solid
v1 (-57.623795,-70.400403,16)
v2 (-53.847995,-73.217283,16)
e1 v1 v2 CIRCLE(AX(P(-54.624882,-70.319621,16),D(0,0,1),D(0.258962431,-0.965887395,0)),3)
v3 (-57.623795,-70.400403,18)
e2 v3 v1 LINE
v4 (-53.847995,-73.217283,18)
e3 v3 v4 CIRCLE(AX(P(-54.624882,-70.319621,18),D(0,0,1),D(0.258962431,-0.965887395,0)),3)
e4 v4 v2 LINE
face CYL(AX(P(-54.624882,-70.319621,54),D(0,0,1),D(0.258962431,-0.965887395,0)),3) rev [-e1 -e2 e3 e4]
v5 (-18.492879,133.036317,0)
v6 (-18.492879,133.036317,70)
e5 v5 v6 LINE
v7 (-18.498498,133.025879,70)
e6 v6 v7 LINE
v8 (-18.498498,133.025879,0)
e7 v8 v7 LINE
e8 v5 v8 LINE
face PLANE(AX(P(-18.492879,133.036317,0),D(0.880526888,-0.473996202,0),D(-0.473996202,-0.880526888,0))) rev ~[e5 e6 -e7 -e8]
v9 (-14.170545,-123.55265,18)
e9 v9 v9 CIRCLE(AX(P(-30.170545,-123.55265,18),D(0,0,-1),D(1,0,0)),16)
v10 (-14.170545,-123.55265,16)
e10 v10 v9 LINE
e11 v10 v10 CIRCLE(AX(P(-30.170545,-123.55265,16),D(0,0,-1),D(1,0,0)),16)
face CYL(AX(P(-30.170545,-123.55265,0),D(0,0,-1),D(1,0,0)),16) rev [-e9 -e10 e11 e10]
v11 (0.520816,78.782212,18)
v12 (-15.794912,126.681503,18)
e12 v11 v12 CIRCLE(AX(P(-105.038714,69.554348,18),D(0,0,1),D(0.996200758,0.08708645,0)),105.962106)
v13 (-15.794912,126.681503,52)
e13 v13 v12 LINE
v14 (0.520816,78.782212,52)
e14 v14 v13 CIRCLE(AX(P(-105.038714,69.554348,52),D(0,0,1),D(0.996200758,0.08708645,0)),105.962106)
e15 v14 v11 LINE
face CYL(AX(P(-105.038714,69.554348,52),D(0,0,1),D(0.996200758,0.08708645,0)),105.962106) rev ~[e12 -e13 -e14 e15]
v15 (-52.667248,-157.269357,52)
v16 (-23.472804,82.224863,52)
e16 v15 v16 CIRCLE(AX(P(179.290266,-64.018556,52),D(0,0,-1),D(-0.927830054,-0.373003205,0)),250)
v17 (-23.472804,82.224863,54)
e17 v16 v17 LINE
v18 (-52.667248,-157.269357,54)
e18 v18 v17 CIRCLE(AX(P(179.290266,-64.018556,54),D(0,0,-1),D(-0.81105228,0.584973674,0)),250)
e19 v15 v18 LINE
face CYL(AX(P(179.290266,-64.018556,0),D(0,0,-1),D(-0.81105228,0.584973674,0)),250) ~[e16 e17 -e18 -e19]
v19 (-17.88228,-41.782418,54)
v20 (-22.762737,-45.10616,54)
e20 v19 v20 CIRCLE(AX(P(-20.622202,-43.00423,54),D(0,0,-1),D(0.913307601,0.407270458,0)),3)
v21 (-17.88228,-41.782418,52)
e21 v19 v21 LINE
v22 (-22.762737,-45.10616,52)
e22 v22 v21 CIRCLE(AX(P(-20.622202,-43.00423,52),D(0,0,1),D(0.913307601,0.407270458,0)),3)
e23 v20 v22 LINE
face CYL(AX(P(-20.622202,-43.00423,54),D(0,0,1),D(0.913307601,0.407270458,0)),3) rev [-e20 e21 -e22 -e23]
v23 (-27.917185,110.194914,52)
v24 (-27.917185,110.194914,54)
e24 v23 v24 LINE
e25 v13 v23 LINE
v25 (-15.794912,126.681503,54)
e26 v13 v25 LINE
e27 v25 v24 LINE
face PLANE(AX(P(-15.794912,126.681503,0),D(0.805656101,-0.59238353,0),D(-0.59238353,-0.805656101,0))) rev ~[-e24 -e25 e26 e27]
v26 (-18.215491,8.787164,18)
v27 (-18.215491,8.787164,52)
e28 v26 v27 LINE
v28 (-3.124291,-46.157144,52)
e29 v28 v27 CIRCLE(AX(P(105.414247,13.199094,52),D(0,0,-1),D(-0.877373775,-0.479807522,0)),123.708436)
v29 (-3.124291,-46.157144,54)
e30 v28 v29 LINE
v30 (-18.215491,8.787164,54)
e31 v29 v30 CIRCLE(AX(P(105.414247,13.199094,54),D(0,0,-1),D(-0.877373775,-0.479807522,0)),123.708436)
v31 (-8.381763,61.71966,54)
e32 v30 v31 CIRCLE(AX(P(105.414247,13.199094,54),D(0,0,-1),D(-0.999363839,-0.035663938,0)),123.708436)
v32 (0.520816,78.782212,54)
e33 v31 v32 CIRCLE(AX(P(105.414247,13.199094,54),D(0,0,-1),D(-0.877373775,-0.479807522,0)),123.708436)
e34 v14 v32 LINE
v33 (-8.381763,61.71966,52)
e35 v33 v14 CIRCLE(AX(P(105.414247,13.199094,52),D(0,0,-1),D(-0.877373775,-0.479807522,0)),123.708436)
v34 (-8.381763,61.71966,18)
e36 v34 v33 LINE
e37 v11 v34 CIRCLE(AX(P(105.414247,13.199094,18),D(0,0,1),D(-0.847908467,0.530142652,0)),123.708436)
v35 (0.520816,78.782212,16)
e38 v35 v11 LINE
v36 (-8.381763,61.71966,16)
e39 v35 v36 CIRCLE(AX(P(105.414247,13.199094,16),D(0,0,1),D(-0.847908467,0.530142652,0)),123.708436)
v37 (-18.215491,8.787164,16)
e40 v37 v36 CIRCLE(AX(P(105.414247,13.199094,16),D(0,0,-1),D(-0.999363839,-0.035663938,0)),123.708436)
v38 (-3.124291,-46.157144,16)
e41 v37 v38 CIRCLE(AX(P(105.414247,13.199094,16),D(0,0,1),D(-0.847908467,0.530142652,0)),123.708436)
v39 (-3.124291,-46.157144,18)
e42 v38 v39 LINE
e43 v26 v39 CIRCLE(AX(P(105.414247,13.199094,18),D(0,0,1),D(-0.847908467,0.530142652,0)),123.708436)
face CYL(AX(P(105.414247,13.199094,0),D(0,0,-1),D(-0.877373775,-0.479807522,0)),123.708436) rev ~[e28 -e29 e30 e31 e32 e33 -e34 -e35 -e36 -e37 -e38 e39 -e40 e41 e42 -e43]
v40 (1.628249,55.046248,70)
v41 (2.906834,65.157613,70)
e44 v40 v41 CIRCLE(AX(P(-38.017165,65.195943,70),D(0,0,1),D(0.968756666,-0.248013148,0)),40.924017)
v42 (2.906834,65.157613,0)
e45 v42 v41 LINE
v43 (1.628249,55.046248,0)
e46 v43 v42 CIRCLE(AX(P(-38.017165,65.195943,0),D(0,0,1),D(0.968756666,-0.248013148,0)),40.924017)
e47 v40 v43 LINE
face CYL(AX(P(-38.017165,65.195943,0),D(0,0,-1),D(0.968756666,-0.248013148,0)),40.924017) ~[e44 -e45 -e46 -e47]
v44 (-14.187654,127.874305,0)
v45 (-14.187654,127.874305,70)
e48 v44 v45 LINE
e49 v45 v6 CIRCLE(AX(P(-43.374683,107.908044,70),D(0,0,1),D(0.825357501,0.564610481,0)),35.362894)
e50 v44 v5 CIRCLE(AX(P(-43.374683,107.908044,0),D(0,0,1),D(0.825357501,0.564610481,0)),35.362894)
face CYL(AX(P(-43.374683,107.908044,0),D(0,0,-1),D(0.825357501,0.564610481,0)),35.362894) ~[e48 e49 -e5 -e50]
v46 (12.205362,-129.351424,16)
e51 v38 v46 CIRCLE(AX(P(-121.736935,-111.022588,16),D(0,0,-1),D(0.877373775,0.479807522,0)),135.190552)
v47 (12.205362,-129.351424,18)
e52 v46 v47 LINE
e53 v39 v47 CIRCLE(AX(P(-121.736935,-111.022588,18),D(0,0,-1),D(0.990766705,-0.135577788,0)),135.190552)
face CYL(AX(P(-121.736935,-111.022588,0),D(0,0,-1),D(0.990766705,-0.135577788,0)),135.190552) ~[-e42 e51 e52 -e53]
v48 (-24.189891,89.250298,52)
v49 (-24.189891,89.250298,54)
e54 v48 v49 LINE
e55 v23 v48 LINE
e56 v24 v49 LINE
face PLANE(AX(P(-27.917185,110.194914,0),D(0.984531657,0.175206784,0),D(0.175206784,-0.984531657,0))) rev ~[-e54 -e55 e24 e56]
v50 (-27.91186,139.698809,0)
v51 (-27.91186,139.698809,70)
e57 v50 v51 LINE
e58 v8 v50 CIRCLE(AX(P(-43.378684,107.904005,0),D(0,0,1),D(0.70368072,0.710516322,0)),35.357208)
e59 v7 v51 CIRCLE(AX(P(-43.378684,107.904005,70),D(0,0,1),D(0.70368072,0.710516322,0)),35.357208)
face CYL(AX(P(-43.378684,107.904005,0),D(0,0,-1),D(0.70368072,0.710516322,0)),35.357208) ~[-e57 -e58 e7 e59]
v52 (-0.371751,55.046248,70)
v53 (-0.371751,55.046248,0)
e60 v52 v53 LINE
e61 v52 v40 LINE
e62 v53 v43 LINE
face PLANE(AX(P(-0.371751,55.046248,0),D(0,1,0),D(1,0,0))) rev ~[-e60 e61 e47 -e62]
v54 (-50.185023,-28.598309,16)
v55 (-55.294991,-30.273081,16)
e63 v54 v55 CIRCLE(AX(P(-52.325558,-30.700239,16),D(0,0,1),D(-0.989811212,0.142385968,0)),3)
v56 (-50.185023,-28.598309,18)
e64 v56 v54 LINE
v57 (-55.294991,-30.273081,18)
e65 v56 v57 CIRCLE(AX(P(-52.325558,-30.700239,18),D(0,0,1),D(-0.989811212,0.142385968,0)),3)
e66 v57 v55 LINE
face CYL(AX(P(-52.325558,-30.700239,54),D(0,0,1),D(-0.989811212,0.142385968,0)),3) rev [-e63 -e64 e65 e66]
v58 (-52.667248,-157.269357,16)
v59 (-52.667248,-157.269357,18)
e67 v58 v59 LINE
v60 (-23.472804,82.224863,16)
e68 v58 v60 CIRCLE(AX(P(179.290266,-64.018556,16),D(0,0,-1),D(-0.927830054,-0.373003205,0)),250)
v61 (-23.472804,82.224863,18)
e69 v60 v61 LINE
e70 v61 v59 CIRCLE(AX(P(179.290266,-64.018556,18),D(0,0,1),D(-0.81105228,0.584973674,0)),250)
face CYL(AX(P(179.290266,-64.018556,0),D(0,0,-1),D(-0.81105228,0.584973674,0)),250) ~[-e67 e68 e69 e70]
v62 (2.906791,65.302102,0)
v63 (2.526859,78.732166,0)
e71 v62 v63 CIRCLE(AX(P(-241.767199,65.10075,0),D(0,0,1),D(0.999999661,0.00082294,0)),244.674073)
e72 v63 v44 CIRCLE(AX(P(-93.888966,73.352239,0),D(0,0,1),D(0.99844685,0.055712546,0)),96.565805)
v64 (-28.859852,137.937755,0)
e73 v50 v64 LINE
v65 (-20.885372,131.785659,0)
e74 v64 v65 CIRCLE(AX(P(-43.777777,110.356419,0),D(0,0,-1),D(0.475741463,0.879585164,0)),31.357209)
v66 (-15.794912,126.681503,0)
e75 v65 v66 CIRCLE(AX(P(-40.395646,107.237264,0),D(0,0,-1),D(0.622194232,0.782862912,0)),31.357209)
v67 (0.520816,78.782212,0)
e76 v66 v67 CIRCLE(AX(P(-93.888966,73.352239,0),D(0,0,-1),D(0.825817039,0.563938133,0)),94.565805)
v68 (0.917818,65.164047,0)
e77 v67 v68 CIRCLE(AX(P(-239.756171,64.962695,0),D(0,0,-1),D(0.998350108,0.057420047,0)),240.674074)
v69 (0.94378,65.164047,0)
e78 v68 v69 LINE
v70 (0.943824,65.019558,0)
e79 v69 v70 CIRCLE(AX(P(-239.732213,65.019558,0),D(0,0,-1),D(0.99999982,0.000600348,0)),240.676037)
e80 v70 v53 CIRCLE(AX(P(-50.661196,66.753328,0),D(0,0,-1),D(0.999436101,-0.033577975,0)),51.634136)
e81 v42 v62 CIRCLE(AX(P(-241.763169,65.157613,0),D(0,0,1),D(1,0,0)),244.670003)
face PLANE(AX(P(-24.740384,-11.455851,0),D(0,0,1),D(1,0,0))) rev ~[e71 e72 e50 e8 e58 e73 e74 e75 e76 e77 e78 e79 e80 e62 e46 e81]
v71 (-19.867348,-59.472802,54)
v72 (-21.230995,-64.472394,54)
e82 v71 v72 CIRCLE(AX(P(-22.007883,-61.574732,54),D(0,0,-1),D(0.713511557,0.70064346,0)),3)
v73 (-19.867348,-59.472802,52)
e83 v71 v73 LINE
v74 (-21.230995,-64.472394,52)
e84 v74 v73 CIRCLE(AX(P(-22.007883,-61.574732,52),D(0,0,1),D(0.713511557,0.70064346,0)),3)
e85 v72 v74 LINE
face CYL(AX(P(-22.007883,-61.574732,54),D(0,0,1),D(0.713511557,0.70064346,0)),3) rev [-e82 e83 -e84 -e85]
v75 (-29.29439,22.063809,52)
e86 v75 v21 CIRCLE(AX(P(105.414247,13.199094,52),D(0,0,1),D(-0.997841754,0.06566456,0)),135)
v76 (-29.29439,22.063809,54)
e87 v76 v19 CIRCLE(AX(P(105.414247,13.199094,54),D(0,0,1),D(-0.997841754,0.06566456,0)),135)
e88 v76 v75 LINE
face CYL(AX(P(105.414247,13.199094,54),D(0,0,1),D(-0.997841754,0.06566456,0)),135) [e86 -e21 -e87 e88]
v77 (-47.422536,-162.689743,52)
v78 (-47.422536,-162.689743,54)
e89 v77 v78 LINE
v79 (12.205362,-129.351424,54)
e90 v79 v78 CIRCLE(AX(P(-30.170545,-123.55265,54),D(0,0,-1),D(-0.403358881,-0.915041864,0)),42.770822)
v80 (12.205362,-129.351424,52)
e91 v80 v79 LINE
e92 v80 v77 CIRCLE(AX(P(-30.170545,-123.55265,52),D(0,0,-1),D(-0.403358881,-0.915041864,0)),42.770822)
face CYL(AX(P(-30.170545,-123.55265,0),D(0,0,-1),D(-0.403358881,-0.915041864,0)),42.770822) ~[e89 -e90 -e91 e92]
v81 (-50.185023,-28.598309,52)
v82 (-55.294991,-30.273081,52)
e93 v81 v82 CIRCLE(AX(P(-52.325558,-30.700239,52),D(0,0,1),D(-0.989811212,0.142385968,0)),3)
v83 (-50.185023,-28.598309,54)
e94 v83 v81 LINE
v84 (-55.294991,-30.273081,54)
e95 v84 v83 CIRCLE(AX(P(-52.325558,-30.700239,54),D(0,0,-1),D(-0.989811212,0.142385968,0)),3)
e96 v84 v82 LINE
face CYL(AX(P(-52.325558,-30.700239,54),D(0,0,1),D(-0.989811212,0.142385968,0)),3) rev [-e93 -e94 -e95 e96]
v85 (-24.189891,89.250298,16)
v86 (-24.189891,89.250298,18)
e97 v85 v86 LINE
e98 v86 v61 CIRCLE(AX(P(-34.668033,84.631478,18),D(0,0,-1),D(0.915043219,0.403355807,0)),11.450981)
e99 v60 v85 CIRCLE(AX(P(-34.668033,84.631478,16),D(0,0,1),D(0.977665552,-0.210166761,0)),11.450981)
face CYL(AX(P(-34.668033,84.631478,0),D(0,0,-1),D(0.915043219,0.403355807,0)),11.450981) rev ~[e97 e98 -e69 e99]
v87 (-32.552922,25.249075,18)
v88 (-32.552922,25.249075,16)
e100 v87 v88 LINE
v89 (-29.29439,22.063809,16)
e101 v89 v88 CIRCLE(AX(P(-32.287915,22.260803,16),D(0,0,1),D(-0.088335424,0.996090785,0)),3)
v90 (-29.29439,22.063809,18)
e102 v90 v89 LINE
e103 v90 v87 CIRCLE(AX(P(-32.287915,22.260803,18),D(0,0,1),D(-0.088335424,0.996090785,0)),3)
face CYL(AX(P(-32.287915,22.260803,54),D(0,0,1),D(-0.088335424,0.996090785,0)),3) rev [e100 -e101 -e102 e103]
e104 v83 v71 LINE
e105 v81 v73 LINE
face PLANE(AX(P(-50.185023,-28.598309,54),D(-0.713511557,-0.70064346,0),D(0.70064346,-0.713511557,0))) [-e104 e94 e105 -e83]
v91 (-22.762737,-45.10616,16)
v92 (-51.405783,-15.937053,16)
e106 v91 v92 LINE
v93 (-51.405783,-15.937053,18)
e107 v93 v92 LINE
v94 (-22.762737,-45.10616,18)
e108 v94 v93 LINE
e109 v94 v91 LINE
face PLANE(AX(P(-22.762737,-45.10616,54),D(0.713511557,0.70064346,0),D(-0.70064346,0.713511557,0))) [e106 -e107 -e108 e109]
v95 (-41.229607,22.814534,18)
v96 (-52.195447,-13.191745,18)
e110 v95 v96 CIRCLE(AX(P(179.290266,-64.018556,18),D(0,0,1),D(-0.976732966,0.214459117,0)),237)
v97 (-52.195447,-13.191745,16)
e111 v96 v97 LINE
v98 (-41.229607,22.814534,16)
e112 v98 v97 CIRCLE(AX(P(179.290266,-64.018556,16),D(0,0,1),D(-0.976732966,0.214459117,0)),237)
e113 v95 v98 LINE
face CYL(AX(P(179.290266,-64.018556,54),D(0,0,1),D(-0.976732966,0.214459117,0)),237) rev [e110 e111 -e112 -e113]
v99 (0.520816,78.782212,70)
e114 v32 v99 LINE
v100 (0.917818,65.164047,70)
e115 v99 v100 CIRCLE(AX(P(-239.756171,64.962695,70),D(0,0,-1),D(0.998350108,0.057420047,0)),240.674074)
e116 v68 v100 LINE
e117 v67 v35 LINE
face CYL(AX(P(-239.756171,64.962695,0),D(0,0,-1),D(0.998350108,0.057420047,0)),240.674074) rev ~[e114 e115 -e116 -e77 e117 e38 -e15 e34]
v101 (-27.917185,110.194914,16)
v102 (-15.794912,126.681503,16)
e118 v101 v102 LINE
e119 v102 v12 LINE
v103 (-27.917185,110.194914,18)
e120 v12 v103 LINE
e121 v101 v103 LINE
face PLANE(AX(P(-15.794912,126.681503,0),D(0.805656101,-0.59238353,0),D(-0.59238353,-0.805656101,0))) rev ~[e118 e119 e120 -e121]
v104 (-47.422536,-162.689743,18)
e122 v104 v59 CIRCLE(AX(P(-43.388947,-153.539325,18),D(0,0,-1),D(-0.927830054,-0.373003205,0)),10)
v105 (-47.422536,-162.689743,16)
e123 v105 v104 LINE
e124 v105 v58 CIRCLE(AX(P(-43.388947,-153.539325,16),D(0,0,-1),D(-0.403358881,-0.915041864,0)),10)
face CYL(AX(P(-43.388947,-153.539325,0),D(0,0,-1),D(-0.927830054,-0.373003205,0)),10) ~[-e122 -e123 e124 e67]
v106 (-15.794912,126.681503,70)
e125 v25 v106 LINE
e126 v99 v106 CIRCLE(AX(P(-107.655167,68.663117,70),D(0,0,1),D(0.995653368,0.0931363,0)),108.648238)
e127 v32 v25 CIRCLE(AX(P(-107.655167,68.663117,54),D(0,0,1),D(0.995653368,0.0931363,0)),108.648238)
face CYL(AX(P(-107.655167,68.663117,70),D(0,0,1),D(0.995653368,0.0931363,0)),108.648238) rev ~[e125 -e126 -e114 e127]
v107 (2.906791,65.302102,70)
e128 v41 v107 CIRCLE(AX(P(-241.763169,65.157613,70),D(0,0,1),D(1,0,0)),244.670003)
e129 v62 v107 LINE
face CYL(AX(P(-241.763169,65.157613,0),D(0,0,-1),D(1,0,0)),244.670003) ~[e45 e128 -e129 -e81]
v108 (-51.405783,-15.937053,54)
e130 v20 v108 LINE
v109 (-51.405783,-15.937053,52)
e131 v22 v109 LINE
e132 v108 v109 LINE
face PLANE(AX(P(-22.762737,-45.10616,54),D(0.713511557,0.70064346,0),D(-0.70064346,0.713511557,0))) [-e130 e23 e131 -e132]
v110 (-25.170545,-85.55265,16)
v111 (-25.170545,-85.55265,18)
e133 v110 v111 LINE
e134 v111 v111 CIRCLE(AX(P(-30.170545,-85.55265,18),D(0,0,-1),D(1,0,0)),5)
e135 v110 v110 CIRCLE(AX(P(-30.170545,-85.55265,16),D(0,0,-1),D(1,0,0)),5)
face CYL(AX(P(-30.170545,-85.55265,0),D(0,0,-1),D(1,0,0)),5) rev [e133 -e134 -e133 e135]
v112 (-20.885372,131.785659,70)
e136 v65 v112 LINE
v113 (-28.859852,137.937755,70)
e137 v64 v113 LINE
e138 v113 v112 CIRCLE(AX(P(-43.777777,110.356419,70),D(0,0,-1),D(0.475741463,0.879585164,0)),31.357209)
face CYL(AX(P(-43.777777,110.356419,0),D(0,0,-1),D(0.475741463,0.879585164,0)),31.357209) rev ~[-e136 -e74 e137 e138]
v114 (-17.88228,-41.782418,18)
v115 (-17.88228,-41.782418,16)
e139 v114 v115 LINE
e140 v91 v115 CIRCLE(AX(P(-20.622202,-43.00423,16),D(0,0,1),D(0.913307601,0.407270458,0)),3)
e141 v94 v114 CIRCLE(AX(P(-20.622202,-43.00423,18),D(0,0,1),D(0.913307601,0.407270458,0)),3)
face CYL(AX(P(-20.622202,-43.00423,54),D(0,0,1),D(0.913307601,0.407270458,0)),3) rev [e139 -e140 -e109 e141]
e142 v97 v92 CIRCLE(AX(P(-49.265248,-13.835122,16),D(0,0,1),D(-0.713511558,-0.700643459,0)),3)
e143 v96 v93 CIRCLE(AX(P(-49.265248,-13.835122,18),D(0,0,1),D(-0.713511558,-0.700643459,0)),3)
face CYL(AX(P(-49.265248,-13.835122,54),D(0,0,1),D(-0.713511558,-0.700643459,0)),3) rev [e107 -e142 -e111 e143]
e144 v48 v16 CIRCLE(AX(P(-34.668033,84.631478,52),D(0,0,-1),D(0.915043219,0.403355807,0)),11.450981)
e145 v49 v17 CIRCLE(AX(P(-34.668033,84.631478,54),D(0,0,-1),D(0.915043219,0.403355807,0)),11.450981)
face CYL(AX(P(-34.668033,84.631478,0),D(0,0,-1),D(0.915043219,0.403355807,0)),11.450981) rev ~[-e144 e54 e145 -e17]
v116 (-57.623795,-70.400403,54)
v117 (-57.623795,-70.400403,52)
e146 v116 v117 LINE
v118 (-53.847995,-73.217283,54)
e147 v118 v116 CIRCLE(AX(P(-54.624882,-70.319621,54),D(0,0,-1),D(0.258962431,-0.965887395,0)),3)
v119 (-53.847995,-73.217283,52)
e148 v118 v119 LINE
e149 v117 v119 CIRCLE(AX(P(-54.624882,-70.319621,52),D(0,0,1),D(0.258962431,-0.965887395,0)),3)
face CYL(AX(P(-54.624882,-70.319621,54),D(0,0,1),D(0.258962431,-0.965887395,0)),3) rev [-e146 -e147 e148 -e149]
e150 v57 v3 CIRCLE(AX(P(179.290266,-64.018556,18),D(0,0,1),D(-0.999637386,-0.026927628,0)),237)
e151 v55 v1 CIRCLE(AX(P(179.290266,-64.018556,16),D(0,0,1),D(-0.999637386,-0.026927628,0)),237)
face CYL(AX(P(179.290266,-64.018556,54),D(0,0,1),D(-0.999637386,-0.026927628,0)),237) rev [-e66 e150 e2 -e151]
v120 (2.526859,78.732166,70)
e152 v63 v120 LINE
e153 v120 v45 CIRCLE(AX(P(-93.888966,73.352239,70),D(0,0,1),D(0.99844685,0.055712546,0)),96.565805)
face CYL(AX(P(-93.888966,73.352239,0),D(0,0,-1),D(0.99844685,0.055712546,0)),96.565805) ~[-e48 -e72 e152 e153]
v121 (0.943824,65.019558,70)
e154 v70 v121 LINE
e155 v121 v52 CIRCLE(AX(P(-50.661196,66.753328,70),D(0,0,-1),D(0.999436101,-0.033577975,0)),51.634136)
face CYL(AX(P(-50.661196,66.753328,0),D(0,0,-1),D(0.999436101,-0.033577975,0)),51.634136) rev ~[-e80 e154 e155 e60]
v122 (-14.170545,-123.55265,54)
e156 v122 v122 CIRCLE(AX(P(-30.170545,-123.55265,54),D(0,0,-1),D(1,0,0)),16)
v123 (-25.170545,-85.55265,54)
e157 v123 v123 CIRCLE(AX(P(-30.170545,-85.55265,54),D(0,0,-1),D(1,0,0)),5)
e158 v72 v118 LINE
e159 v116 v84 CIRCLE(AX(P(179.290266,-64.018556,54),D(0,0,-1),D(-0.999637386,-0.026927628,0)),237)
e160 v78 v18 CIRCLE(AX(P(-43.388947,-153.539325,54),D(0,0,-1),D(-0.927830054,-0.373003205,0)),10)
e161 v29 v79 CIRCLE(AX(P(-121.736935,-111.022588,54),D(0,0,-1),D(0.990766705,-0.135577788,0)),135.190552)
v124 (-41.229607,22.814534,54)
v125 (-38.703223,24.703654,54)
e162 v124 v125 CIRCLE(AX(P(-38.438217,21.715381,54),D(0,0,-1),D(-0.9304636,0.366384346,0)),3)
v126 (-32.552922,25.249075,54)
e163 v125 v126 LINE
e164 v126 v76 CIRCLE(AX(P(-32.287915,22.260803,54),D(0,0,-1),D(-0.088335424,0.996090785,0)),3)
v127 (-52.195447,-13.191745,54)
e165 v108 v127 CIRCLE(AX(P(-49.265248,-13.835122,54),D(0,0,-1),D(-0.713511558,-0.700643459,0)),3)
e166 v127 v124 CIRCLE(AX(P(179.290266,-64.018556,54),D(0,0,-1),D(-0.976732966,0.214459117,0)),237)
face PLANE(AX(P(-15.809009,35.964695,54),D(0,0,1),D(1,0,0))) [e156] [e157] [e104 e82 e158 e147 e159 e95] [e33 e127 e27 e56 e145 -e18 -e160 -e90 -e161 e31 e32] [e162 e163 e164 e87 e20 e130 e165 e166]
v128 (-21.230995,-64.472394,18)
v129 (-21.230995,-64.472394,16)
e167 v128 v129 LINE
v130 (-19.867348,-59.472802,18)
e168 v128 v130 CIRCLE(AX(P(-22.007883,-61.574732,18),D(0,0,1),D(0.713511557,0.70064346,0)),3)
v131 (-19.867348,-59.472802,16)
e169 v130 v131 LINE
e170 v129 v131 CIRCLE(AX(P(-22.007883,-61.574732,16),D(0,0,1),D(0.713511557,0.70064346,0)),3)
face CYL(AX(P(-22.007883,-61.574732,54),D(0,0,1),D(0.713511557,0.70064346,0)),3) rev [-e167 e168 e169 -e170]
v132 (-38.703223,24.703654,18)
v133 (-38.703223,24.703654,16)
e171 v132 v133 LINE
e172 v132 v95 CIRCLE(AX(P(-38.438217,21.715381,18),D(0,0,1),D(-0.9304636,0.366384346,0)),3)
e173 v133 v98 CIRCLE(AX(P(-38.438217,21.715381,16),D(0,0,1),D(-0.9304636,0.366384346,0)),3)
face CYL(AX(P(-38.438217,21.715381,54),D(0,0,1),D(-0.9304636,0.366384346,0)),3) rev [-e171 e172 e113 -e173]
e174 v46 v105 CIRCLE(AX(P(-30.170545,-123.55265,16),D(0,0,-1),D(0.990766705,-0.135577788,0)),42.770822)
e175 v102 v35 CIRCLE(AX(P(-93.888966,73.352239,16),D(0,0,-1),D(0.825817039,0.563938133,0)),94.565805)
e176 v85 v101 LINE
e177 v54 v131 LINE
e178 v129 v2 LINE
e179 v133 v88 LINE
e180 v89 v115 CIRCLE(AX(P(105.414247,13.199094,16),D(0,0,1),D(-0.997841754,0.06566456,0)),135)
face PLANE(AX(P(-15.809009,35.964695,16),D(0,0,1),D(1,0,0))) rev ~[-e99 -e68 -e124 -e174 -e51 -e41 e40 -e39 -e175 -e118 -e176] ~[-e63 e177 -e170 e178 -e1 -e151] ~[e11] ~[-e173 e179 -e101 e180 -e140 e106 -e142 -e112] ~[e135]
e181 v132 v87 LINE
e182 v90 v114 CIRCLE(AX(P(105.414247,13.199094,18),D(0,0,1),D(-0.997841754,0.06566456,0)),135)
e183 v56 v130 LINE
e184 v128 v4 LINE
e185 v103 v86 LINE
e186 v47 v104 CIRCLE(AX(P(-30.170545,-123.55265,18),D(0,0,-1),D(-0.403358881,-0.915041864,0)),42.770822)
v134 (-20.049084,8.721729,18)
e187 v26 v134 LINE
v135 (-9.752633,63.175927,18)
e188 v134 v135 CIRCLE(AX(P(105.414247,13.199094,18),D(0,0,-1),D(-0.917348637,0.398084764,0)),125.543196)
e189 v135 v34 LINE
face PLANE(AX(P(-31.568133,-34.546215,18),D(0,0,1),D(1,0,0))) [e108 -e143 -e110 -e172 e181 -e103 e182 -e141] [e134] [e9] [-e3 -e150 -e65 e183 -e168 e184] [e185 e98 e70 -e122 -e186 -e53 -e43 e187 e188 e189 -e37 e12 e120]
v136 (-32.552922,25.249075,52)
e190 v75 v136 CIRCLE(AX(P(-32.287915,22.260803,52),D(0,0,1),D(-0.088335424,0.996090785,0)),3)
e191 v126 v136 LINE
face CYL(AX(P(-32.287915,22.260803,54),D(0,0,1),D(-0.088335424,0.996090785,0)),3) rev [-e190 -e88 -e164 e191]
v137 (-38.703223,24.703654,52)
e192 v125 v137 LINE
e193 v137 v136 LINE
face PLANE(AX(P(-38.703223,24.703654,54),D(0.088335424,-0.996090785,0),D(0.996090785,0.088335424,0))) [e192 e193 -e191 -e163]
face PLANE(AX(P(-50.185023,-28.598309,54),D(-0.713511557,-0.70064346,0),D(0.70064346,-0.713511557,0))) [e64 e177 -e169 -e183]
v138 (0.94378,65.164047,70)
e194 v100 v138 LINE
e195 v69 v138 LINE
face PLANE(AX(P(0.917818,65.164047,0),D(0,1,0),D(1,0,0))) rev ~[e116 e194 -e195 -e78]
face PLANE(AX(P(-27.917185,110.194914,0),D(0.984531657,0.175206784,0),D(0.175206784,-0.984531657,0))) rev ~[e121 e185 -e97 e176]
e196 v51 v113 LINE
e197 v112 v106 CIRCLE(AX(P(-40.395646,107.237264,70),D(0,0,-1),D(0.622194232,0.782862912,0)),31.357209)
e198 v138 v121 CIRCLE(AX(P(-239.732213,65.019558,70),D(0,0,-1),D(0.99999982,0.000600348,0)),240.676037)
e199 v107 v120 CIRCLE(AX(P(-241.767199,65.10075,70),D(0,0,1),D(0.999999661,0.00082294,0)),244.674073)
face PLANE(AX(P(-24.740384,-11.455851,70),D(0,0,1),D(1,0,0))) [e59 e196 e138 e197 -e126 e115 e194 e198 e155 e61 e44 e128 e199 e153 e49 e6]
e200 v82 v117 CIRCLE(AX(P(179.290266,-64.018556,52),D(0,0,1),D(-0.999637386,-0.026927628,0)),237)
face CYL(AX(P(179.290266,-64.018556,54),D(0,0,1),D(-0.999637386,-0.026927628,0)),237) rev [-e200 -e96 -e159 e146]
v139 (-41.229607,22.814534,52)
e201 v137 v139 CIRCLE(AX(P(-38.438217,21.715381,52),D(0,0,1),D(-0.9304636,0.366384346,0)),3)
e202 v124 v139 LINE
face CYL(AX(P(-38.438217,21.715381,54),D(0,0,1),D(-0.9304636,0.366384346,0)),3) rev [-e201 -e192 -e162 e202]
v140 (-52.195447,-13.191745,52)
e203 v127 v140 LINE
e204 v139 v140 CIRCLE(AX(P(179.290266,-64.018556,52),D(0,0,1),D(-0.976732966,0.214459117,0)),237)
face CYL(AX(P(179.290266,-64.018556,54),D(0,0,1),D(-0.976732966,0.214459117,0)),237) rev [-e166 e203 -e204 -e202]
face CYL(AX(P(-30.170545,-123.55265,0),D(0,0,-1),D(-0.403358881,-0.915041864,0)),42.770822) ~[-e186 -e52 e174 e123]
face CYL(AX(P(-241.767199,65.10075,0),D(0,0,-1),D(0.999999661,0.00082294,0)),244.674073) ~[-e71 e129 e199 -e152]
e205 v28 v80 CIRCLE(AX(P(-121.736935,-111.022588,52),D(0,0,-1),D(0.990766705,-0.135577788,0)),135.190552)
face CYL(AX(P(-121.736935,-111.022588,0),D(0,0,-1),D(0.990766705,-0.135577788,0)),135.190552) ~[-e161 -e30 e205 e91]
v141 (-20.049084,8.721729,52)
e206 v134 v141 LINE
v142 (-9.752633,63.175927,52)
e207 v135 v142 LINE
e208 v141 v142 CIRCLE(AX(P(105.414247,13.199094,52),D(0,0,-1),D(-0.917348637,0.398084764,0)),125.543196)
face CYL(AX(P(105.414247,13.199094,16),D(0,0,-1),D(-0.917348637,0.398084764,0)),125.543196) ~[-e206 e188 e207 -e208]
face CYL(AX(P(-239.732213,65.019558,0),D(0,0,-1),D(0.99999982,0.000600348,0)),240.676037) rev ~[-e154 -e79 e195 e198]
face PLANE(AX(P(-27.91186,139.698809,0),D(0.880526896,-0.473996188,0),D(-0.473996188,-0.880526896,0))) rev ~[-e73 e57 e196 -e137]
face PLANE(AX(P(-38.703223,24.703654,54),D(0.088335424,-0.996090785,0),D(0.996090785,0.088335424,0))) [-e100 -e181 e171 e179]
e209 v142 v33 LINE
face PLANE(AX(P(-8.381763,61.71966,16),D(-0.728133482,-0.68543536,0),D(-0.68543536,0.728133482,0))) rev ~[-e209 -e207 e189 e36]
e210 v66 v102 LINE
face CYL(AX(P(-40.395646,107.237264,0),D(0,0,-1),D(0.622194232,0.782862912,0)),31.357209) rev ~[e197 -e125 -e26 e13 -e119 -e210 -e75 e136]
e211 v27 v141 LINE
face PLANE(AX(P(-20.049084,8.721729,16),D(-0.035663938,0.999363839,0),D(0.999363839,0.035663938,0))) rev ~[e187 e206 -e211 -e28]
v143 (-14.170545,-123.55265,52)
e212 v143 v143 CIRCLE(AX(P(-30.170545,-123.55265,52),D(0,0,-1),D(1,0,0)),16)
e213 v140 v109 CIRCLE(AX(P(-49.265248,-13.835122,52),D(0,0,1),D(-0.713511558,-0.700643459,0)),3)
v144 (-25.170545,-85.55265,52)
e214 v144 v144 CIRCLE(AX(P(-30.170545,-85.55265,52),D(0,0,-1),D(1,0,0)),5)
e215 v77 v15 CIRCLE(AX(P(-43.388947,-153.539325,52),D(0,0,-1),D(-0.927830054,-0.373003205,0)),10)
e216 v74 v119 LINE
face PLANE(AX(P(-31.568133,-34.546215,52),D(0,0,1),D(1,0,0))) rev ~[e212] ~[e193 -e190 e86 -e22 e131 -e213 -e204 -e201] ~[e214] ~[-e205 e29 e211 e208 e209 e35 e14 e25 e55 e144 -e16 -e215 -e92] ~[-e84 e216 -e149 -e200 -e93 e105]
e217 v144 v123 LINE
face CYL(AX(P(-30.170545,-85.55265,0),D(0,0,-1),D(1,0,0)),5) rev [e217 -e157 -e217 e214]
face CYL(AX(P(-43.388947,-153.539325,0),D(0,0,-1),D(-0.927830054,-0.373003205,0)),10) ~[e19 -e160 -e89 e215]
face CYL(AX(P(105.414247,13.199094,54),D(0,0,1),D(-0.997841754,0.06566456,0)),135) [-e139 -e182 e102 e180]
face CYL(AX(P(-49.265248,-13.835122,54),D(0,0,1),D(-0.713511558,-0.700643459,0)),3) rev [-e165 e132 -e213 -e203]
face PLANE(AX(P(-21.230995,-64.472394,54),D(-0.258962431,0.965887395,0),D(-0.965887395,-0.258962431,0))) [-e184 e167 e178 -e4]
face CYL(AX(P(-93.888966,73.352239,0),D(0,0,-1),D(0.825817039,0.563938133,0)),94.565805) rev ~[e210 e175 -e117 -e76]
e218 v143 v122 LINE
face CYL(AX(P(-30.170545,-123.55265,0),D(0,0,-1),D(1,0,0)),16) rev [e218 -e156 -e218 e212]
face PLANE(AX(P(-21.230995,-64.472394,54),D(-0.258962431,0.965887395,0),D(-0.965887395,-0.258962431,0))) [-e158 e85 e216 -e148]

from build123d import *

# Parameters (mm, degrees)
SKETCH1_R           = 16
SKETCH1_R_2         = 5
BOSS_EXTRUDE3_DEPTH = 70
CUT_EXTRUDE2_DEPTH  = 16
CUT_EXTRUDE3_DEPTH  = 16
SKETCH7_W           = 34
SKETCH7_H           = 251.612307305
CUT_EXTRUDE4_DEPTH  = 87.5
CUT_EXTRUDE5_DEPTH  = 34
BOSS_EXTRUDE4_START = -38
BOSS_EXTRUDE4_DEPTH = 38
CUT_EXTRUDE6_DEPTH  = 135


with BuildPart() as part:
    # Sketch1 → Boss-Extrude3 (new body)
    with BuildSketch(Plane.XY):
        with BuildLine():
            Line((-18.492879119, 133.036316601), (-18.498498023, 133.025878551))
            ThreePointArc((-18.498498023, 133.025878551), (-22.931133945, 136.748933151), (-27.911859958, 139.698808598))
            Line((-27.911859958, 139.698808598), (-28.859852333, 137.937754807))
            ThreePointArc((-28.859852333, 137.937754807), (-24.623995913, 135.183968868), (-20.885371833, 131.785659496))
            ThreePointArc((-20.885371833, 131.785659496), (-18.192980361, 129.380347747), (-15.794912153, 126.681502565))
            Line((-15.794912153, 126.681502565), (-27.917185271, 110.194914382))
            Line((-27.917185271, 110.194914382), (-24.189891295, 89.250297825))
            ThreePointArc((-24.189891295, 89.250297825), (-23.276240724, 85.794240187), (-23.472804176, 82.224862851))
            ThreePointArc((-23.472804176, 82.224862851), (-68.872718383, -33.767386176), (-52.667247609, -157.269356853))
            ThreePointArc((-52.667247609, -157.269356853), (-50.575514204, -160.492975125), (-47.422535875, -162.689743445))
            ThreePointArc((-47.422535875, -162.689743445), (-9.297986917, -160.884668476), (12.205361962, -129.351423863))
            ThreePointArc((12.205361962, -129.351423863), (11.215393371, -86.524352781), (-3.124290711, -46.157144361))
            ThreePointArc((-3.124290711, -46.157144361), (-18.241573573, 16.806753647), (0.520816468, 78.782211802))
            ThreePointArc((0.520816468, 78.782211802), (0.815698001, 71.975939249), (0.917818465, 65.164047251))
            Line((0.917818465, 65.164047251), (0.943780266, 65.164047251))
            ThreePointArc((0.943780266, 65.164047251), (0.943812795, 65.09180253), (0.943823638, 65.019557802))
            ThreePointArc((0.943823638, 65.019557802), (0.529498651, 60.000787978), (-0.371750777, 55.04624812))
            Line((-0.371750777, 55.04624812), (1.628249223, 55.04624812))
            ThreePointArc((1.628249223, 55.04624812), (2.583543249, 60.061971917), (2.90683401, 65.157612698))
            ThreePointArc((2.90683401, 65.157612698), (2.906823344, 65.229857425), (2.906791346, 65.302102146))
            ThreePointArc((2.906791346, 65.302102146), (2.809025603, 72.019742255), (2.526858646, 78.732165705))
            ThreePointArc((2.526858646, 78.732165705), (-2.46660039, 104.447349639), (-14.187653785, 127.874304738))
            ThreePointArc((-14.187653785, 127.874304738), (-16.217340169, 130.557833748), (-18.492879119, 133.036316601))
        make_face()
        with Locations((-30.170544826, -123.552650361)):
            Circle(SKETCH1_R, mode=Mode.SUBTRACT)
        with Locations((-30.170544826, -85.552650361)):
            Circle(SKETCH1_R_2, mode=Mode.SUBTRACT)
    extrude(amount=BOSS_EXTRUDE3_DEPTH)

    # Sketch4 → Cut-Extrude2 (cut)
    with BuildSketch(Plane(origin=(0, 0, 0), x_dir=(-1, 0, 0), z_dir=(0, 0, -1))):
        with BuildLine():
            Line((27.917185271, 110.194914382), (15.794912153, 126.681502565))
            ThreePointArc((15.794912153, 126.681502565), (4.373722035, 103.843429765), (-0.520816468, 78.782211802))
            ThreePointArc((-0.520816468, 78.782211802), (18.241573573, 16.806753647), (3.124290711, -46.157144361))
            ThreePointArc((3.124290711, -46.157144361), (-11.215393371, -86.524352781), (-12.205361962, -129.351423863))
            ThreePointArc((-12.205361962, -129.351423863), (9.297986917, -160.884668476), (47.422535875, -162.689743445))
            ThreePointArc((47.422535875, -162.689743445), (50.575514204, -160.492975125), (52.667247609, -157.269356853))
            ThreePointArc((52.667247609, -157.269356853), (68.872718383, -33.767386176), (23.472804176, 82.224862851))
            ThreePointArc((23.472804176, 82.224862851), (23.276240724, 85.794240187), (24.189891295, 89.250297825))
            Line((24.189891295, 89.250297825), (27.917185271, 110.194914382))
        make_face()
    extrude(amount=-CUT_EXTRUDE2_DEPTH, mode=Mode.SUBTRACT)

    # Sketch5 → Cut-Extrude3 (cut)
    with BuildSketch(Plane.XY.offset(70)):
        with BuildLine():
            Line((-15.794912153, 126.681502565), (-106.344691982, 77.715450511))
            Line((-106.344691982, 77.715450511), (-99.056785555, -184.356883009))
            Line((-99.056785555, -184.356883009), (38.776437557, -199.728468659))
            Line((38.776437557, -199.728468659), (9.520070812, 37.732141377))
            Line((9.520070812, 37.732141377), (-2.731904314, 53.720528852))
            Line((-2.731904314, 53.720528852), (0.520816468, 78.782211802))
            ThreePointArc((0.520816468, 78.782211802), (-4.80960476, 103.694956914), (-15.794912153, 126.681502565))
        make_face()
    extrude(amount=-CUT_EXTRUDE3_DEPTH, mode=Mode.SUBTRACT)

    # Sketch7 → Cut-Extrude4 (cut, symmetric)
    with BuildSketch(Plane(origin=(0, 0, 0), x_dir=(0, 0, -1), z_dir=(1, 0, 0))):
        with Locations((-35, -70.759905532)):
            Rectangle(SKETCH7_W, SKETCH7_H)
    extrude(amount=CUT_EXTRUDE4_DEPTH, both=True, mode=Mode.SUBTRACT)

    # Sketch8 → Cut-Extrude5 (cut)
    with BuildSketch(Plane(origin=(0, 0, 52), x_dir=(-1, 0, 0), z_dir=(0, 0, -1))):
        with BuildLine():
            Line((15.794912153, 126.681502565), (103.727403684, 77.715450511))
            Line((103.727403684, 77.715450511), (65.201238751, -183.077529844))
            Line((65.201238751, -183.077529844), (-41.355481636, -162.759511126))
            Line((-41.355481636, -162.759511126), (-12.07256107, 35.463700067))
            Line((-12.07256107, 35.463700067), (7.253704803, 49.814895562))
            Line((7.253704803, 49.814895562), (-0.520816468, 78.782211802))
            ThreePointArc((-0.520816468, 78.782211802), (4.735822291, 103.720089118), (15.794912153, 126.681502565))
        make_face()
    extrude(amount=CUT_EXTRUDE5_DEPTH, mode=Mode.SUBTRACT)

    # Sketch9 → Boss-Extrude4 (add)
    with BuildSketch(Plane.XY.offset(54).offset(BOSS_EXTRUDE4_START)):
        with BuildLine():
            Line((-8.381762523, 61.719660218), (-9.752633242, 63.175927181))
            ThreePointArc((-9.752633242, 63.175927181), (-17.943118256, 36.524072516), (-20.049083933, 8.721728902))
            Line((-20.049083933, 8.721728902), (-18.21549071, 8.787163684))
            ThreePointArc((-18.21549071, 8.787163684), (-16.213088176, 35.794856709), (-8.381762523, 61.719660218))
        make_face()
    extrude(amount=BOSS_EXTRUDE4_DEPTH)

    # Sketch11 → Cut-Extrude6 (cut)
    with BuildSketch(Plane.XY.offset(54)):
        with BuildLine():
            Line((-50.185023147, -28.598308606), (-19.867347918, -59.472801703))
            ThreePointArc((-19.867347918, -59.472801703), (-19.113609075, -62.364150109), (-21.230995297, -64.472394267))
            Line((-21.230995297, -64.472394267), (-53.847995089, -73.217282749))
            ThreePointArc((-53.847995089, -73.217282749), (-56.418775041, -72.724188951), (-57.623794539, -70.400403449))
            ThreePointArc((-57.623794539, -70.400403449), (-57.31161949, -50.287283004), (-55.294991455, -30.273081081))
            ThreePointArc((-55.294991455, -30.273081081), (-53.259893991, -27.84944683), (-50.185023147, -28.598308606))
        make_face()
        with BuildLine():
            Line((-22.762737067, -45.106159898), (-51.405782898, -15.937052632))
            ThreePointArc((-51.405782898, -15.937052632), (-52.148347837, -14.664421133), (-52.195447125, -13.191744903))
            ThreePointArc((-52.195447125, -13.191744903), (-47.4284487, 5.029431131), (-41.229607384, 22.814534346))
            ThreePointArc((-41.229607384, 22.814534346), (-40.234764305, 24.117966642), (-38.703222855, 24.703653665))
            Line((-38.703222855, 24.703653665), (-32.552921731, 25.249075291))
            ThreePointArc((-32.552921731, 25.249075291), (-30.190849915, 24.406103869), (-29.294390199, 22.063809255))
            ThreePointArc((-29.294390199, 22.063809255), (-27.47951255, -10.554827918), (-17.882279592, -41.782418145))
            ThreePointArc((-17.882279592, -41.782418145), (-18.933525001, -45.483819939), (-22.762737067, -45.106159898))
        make_face()
    extrude(amount=-CUT_EXTRUDE6_DEPTH, mode=Mode.SUBTRACT)


solid = part.part
